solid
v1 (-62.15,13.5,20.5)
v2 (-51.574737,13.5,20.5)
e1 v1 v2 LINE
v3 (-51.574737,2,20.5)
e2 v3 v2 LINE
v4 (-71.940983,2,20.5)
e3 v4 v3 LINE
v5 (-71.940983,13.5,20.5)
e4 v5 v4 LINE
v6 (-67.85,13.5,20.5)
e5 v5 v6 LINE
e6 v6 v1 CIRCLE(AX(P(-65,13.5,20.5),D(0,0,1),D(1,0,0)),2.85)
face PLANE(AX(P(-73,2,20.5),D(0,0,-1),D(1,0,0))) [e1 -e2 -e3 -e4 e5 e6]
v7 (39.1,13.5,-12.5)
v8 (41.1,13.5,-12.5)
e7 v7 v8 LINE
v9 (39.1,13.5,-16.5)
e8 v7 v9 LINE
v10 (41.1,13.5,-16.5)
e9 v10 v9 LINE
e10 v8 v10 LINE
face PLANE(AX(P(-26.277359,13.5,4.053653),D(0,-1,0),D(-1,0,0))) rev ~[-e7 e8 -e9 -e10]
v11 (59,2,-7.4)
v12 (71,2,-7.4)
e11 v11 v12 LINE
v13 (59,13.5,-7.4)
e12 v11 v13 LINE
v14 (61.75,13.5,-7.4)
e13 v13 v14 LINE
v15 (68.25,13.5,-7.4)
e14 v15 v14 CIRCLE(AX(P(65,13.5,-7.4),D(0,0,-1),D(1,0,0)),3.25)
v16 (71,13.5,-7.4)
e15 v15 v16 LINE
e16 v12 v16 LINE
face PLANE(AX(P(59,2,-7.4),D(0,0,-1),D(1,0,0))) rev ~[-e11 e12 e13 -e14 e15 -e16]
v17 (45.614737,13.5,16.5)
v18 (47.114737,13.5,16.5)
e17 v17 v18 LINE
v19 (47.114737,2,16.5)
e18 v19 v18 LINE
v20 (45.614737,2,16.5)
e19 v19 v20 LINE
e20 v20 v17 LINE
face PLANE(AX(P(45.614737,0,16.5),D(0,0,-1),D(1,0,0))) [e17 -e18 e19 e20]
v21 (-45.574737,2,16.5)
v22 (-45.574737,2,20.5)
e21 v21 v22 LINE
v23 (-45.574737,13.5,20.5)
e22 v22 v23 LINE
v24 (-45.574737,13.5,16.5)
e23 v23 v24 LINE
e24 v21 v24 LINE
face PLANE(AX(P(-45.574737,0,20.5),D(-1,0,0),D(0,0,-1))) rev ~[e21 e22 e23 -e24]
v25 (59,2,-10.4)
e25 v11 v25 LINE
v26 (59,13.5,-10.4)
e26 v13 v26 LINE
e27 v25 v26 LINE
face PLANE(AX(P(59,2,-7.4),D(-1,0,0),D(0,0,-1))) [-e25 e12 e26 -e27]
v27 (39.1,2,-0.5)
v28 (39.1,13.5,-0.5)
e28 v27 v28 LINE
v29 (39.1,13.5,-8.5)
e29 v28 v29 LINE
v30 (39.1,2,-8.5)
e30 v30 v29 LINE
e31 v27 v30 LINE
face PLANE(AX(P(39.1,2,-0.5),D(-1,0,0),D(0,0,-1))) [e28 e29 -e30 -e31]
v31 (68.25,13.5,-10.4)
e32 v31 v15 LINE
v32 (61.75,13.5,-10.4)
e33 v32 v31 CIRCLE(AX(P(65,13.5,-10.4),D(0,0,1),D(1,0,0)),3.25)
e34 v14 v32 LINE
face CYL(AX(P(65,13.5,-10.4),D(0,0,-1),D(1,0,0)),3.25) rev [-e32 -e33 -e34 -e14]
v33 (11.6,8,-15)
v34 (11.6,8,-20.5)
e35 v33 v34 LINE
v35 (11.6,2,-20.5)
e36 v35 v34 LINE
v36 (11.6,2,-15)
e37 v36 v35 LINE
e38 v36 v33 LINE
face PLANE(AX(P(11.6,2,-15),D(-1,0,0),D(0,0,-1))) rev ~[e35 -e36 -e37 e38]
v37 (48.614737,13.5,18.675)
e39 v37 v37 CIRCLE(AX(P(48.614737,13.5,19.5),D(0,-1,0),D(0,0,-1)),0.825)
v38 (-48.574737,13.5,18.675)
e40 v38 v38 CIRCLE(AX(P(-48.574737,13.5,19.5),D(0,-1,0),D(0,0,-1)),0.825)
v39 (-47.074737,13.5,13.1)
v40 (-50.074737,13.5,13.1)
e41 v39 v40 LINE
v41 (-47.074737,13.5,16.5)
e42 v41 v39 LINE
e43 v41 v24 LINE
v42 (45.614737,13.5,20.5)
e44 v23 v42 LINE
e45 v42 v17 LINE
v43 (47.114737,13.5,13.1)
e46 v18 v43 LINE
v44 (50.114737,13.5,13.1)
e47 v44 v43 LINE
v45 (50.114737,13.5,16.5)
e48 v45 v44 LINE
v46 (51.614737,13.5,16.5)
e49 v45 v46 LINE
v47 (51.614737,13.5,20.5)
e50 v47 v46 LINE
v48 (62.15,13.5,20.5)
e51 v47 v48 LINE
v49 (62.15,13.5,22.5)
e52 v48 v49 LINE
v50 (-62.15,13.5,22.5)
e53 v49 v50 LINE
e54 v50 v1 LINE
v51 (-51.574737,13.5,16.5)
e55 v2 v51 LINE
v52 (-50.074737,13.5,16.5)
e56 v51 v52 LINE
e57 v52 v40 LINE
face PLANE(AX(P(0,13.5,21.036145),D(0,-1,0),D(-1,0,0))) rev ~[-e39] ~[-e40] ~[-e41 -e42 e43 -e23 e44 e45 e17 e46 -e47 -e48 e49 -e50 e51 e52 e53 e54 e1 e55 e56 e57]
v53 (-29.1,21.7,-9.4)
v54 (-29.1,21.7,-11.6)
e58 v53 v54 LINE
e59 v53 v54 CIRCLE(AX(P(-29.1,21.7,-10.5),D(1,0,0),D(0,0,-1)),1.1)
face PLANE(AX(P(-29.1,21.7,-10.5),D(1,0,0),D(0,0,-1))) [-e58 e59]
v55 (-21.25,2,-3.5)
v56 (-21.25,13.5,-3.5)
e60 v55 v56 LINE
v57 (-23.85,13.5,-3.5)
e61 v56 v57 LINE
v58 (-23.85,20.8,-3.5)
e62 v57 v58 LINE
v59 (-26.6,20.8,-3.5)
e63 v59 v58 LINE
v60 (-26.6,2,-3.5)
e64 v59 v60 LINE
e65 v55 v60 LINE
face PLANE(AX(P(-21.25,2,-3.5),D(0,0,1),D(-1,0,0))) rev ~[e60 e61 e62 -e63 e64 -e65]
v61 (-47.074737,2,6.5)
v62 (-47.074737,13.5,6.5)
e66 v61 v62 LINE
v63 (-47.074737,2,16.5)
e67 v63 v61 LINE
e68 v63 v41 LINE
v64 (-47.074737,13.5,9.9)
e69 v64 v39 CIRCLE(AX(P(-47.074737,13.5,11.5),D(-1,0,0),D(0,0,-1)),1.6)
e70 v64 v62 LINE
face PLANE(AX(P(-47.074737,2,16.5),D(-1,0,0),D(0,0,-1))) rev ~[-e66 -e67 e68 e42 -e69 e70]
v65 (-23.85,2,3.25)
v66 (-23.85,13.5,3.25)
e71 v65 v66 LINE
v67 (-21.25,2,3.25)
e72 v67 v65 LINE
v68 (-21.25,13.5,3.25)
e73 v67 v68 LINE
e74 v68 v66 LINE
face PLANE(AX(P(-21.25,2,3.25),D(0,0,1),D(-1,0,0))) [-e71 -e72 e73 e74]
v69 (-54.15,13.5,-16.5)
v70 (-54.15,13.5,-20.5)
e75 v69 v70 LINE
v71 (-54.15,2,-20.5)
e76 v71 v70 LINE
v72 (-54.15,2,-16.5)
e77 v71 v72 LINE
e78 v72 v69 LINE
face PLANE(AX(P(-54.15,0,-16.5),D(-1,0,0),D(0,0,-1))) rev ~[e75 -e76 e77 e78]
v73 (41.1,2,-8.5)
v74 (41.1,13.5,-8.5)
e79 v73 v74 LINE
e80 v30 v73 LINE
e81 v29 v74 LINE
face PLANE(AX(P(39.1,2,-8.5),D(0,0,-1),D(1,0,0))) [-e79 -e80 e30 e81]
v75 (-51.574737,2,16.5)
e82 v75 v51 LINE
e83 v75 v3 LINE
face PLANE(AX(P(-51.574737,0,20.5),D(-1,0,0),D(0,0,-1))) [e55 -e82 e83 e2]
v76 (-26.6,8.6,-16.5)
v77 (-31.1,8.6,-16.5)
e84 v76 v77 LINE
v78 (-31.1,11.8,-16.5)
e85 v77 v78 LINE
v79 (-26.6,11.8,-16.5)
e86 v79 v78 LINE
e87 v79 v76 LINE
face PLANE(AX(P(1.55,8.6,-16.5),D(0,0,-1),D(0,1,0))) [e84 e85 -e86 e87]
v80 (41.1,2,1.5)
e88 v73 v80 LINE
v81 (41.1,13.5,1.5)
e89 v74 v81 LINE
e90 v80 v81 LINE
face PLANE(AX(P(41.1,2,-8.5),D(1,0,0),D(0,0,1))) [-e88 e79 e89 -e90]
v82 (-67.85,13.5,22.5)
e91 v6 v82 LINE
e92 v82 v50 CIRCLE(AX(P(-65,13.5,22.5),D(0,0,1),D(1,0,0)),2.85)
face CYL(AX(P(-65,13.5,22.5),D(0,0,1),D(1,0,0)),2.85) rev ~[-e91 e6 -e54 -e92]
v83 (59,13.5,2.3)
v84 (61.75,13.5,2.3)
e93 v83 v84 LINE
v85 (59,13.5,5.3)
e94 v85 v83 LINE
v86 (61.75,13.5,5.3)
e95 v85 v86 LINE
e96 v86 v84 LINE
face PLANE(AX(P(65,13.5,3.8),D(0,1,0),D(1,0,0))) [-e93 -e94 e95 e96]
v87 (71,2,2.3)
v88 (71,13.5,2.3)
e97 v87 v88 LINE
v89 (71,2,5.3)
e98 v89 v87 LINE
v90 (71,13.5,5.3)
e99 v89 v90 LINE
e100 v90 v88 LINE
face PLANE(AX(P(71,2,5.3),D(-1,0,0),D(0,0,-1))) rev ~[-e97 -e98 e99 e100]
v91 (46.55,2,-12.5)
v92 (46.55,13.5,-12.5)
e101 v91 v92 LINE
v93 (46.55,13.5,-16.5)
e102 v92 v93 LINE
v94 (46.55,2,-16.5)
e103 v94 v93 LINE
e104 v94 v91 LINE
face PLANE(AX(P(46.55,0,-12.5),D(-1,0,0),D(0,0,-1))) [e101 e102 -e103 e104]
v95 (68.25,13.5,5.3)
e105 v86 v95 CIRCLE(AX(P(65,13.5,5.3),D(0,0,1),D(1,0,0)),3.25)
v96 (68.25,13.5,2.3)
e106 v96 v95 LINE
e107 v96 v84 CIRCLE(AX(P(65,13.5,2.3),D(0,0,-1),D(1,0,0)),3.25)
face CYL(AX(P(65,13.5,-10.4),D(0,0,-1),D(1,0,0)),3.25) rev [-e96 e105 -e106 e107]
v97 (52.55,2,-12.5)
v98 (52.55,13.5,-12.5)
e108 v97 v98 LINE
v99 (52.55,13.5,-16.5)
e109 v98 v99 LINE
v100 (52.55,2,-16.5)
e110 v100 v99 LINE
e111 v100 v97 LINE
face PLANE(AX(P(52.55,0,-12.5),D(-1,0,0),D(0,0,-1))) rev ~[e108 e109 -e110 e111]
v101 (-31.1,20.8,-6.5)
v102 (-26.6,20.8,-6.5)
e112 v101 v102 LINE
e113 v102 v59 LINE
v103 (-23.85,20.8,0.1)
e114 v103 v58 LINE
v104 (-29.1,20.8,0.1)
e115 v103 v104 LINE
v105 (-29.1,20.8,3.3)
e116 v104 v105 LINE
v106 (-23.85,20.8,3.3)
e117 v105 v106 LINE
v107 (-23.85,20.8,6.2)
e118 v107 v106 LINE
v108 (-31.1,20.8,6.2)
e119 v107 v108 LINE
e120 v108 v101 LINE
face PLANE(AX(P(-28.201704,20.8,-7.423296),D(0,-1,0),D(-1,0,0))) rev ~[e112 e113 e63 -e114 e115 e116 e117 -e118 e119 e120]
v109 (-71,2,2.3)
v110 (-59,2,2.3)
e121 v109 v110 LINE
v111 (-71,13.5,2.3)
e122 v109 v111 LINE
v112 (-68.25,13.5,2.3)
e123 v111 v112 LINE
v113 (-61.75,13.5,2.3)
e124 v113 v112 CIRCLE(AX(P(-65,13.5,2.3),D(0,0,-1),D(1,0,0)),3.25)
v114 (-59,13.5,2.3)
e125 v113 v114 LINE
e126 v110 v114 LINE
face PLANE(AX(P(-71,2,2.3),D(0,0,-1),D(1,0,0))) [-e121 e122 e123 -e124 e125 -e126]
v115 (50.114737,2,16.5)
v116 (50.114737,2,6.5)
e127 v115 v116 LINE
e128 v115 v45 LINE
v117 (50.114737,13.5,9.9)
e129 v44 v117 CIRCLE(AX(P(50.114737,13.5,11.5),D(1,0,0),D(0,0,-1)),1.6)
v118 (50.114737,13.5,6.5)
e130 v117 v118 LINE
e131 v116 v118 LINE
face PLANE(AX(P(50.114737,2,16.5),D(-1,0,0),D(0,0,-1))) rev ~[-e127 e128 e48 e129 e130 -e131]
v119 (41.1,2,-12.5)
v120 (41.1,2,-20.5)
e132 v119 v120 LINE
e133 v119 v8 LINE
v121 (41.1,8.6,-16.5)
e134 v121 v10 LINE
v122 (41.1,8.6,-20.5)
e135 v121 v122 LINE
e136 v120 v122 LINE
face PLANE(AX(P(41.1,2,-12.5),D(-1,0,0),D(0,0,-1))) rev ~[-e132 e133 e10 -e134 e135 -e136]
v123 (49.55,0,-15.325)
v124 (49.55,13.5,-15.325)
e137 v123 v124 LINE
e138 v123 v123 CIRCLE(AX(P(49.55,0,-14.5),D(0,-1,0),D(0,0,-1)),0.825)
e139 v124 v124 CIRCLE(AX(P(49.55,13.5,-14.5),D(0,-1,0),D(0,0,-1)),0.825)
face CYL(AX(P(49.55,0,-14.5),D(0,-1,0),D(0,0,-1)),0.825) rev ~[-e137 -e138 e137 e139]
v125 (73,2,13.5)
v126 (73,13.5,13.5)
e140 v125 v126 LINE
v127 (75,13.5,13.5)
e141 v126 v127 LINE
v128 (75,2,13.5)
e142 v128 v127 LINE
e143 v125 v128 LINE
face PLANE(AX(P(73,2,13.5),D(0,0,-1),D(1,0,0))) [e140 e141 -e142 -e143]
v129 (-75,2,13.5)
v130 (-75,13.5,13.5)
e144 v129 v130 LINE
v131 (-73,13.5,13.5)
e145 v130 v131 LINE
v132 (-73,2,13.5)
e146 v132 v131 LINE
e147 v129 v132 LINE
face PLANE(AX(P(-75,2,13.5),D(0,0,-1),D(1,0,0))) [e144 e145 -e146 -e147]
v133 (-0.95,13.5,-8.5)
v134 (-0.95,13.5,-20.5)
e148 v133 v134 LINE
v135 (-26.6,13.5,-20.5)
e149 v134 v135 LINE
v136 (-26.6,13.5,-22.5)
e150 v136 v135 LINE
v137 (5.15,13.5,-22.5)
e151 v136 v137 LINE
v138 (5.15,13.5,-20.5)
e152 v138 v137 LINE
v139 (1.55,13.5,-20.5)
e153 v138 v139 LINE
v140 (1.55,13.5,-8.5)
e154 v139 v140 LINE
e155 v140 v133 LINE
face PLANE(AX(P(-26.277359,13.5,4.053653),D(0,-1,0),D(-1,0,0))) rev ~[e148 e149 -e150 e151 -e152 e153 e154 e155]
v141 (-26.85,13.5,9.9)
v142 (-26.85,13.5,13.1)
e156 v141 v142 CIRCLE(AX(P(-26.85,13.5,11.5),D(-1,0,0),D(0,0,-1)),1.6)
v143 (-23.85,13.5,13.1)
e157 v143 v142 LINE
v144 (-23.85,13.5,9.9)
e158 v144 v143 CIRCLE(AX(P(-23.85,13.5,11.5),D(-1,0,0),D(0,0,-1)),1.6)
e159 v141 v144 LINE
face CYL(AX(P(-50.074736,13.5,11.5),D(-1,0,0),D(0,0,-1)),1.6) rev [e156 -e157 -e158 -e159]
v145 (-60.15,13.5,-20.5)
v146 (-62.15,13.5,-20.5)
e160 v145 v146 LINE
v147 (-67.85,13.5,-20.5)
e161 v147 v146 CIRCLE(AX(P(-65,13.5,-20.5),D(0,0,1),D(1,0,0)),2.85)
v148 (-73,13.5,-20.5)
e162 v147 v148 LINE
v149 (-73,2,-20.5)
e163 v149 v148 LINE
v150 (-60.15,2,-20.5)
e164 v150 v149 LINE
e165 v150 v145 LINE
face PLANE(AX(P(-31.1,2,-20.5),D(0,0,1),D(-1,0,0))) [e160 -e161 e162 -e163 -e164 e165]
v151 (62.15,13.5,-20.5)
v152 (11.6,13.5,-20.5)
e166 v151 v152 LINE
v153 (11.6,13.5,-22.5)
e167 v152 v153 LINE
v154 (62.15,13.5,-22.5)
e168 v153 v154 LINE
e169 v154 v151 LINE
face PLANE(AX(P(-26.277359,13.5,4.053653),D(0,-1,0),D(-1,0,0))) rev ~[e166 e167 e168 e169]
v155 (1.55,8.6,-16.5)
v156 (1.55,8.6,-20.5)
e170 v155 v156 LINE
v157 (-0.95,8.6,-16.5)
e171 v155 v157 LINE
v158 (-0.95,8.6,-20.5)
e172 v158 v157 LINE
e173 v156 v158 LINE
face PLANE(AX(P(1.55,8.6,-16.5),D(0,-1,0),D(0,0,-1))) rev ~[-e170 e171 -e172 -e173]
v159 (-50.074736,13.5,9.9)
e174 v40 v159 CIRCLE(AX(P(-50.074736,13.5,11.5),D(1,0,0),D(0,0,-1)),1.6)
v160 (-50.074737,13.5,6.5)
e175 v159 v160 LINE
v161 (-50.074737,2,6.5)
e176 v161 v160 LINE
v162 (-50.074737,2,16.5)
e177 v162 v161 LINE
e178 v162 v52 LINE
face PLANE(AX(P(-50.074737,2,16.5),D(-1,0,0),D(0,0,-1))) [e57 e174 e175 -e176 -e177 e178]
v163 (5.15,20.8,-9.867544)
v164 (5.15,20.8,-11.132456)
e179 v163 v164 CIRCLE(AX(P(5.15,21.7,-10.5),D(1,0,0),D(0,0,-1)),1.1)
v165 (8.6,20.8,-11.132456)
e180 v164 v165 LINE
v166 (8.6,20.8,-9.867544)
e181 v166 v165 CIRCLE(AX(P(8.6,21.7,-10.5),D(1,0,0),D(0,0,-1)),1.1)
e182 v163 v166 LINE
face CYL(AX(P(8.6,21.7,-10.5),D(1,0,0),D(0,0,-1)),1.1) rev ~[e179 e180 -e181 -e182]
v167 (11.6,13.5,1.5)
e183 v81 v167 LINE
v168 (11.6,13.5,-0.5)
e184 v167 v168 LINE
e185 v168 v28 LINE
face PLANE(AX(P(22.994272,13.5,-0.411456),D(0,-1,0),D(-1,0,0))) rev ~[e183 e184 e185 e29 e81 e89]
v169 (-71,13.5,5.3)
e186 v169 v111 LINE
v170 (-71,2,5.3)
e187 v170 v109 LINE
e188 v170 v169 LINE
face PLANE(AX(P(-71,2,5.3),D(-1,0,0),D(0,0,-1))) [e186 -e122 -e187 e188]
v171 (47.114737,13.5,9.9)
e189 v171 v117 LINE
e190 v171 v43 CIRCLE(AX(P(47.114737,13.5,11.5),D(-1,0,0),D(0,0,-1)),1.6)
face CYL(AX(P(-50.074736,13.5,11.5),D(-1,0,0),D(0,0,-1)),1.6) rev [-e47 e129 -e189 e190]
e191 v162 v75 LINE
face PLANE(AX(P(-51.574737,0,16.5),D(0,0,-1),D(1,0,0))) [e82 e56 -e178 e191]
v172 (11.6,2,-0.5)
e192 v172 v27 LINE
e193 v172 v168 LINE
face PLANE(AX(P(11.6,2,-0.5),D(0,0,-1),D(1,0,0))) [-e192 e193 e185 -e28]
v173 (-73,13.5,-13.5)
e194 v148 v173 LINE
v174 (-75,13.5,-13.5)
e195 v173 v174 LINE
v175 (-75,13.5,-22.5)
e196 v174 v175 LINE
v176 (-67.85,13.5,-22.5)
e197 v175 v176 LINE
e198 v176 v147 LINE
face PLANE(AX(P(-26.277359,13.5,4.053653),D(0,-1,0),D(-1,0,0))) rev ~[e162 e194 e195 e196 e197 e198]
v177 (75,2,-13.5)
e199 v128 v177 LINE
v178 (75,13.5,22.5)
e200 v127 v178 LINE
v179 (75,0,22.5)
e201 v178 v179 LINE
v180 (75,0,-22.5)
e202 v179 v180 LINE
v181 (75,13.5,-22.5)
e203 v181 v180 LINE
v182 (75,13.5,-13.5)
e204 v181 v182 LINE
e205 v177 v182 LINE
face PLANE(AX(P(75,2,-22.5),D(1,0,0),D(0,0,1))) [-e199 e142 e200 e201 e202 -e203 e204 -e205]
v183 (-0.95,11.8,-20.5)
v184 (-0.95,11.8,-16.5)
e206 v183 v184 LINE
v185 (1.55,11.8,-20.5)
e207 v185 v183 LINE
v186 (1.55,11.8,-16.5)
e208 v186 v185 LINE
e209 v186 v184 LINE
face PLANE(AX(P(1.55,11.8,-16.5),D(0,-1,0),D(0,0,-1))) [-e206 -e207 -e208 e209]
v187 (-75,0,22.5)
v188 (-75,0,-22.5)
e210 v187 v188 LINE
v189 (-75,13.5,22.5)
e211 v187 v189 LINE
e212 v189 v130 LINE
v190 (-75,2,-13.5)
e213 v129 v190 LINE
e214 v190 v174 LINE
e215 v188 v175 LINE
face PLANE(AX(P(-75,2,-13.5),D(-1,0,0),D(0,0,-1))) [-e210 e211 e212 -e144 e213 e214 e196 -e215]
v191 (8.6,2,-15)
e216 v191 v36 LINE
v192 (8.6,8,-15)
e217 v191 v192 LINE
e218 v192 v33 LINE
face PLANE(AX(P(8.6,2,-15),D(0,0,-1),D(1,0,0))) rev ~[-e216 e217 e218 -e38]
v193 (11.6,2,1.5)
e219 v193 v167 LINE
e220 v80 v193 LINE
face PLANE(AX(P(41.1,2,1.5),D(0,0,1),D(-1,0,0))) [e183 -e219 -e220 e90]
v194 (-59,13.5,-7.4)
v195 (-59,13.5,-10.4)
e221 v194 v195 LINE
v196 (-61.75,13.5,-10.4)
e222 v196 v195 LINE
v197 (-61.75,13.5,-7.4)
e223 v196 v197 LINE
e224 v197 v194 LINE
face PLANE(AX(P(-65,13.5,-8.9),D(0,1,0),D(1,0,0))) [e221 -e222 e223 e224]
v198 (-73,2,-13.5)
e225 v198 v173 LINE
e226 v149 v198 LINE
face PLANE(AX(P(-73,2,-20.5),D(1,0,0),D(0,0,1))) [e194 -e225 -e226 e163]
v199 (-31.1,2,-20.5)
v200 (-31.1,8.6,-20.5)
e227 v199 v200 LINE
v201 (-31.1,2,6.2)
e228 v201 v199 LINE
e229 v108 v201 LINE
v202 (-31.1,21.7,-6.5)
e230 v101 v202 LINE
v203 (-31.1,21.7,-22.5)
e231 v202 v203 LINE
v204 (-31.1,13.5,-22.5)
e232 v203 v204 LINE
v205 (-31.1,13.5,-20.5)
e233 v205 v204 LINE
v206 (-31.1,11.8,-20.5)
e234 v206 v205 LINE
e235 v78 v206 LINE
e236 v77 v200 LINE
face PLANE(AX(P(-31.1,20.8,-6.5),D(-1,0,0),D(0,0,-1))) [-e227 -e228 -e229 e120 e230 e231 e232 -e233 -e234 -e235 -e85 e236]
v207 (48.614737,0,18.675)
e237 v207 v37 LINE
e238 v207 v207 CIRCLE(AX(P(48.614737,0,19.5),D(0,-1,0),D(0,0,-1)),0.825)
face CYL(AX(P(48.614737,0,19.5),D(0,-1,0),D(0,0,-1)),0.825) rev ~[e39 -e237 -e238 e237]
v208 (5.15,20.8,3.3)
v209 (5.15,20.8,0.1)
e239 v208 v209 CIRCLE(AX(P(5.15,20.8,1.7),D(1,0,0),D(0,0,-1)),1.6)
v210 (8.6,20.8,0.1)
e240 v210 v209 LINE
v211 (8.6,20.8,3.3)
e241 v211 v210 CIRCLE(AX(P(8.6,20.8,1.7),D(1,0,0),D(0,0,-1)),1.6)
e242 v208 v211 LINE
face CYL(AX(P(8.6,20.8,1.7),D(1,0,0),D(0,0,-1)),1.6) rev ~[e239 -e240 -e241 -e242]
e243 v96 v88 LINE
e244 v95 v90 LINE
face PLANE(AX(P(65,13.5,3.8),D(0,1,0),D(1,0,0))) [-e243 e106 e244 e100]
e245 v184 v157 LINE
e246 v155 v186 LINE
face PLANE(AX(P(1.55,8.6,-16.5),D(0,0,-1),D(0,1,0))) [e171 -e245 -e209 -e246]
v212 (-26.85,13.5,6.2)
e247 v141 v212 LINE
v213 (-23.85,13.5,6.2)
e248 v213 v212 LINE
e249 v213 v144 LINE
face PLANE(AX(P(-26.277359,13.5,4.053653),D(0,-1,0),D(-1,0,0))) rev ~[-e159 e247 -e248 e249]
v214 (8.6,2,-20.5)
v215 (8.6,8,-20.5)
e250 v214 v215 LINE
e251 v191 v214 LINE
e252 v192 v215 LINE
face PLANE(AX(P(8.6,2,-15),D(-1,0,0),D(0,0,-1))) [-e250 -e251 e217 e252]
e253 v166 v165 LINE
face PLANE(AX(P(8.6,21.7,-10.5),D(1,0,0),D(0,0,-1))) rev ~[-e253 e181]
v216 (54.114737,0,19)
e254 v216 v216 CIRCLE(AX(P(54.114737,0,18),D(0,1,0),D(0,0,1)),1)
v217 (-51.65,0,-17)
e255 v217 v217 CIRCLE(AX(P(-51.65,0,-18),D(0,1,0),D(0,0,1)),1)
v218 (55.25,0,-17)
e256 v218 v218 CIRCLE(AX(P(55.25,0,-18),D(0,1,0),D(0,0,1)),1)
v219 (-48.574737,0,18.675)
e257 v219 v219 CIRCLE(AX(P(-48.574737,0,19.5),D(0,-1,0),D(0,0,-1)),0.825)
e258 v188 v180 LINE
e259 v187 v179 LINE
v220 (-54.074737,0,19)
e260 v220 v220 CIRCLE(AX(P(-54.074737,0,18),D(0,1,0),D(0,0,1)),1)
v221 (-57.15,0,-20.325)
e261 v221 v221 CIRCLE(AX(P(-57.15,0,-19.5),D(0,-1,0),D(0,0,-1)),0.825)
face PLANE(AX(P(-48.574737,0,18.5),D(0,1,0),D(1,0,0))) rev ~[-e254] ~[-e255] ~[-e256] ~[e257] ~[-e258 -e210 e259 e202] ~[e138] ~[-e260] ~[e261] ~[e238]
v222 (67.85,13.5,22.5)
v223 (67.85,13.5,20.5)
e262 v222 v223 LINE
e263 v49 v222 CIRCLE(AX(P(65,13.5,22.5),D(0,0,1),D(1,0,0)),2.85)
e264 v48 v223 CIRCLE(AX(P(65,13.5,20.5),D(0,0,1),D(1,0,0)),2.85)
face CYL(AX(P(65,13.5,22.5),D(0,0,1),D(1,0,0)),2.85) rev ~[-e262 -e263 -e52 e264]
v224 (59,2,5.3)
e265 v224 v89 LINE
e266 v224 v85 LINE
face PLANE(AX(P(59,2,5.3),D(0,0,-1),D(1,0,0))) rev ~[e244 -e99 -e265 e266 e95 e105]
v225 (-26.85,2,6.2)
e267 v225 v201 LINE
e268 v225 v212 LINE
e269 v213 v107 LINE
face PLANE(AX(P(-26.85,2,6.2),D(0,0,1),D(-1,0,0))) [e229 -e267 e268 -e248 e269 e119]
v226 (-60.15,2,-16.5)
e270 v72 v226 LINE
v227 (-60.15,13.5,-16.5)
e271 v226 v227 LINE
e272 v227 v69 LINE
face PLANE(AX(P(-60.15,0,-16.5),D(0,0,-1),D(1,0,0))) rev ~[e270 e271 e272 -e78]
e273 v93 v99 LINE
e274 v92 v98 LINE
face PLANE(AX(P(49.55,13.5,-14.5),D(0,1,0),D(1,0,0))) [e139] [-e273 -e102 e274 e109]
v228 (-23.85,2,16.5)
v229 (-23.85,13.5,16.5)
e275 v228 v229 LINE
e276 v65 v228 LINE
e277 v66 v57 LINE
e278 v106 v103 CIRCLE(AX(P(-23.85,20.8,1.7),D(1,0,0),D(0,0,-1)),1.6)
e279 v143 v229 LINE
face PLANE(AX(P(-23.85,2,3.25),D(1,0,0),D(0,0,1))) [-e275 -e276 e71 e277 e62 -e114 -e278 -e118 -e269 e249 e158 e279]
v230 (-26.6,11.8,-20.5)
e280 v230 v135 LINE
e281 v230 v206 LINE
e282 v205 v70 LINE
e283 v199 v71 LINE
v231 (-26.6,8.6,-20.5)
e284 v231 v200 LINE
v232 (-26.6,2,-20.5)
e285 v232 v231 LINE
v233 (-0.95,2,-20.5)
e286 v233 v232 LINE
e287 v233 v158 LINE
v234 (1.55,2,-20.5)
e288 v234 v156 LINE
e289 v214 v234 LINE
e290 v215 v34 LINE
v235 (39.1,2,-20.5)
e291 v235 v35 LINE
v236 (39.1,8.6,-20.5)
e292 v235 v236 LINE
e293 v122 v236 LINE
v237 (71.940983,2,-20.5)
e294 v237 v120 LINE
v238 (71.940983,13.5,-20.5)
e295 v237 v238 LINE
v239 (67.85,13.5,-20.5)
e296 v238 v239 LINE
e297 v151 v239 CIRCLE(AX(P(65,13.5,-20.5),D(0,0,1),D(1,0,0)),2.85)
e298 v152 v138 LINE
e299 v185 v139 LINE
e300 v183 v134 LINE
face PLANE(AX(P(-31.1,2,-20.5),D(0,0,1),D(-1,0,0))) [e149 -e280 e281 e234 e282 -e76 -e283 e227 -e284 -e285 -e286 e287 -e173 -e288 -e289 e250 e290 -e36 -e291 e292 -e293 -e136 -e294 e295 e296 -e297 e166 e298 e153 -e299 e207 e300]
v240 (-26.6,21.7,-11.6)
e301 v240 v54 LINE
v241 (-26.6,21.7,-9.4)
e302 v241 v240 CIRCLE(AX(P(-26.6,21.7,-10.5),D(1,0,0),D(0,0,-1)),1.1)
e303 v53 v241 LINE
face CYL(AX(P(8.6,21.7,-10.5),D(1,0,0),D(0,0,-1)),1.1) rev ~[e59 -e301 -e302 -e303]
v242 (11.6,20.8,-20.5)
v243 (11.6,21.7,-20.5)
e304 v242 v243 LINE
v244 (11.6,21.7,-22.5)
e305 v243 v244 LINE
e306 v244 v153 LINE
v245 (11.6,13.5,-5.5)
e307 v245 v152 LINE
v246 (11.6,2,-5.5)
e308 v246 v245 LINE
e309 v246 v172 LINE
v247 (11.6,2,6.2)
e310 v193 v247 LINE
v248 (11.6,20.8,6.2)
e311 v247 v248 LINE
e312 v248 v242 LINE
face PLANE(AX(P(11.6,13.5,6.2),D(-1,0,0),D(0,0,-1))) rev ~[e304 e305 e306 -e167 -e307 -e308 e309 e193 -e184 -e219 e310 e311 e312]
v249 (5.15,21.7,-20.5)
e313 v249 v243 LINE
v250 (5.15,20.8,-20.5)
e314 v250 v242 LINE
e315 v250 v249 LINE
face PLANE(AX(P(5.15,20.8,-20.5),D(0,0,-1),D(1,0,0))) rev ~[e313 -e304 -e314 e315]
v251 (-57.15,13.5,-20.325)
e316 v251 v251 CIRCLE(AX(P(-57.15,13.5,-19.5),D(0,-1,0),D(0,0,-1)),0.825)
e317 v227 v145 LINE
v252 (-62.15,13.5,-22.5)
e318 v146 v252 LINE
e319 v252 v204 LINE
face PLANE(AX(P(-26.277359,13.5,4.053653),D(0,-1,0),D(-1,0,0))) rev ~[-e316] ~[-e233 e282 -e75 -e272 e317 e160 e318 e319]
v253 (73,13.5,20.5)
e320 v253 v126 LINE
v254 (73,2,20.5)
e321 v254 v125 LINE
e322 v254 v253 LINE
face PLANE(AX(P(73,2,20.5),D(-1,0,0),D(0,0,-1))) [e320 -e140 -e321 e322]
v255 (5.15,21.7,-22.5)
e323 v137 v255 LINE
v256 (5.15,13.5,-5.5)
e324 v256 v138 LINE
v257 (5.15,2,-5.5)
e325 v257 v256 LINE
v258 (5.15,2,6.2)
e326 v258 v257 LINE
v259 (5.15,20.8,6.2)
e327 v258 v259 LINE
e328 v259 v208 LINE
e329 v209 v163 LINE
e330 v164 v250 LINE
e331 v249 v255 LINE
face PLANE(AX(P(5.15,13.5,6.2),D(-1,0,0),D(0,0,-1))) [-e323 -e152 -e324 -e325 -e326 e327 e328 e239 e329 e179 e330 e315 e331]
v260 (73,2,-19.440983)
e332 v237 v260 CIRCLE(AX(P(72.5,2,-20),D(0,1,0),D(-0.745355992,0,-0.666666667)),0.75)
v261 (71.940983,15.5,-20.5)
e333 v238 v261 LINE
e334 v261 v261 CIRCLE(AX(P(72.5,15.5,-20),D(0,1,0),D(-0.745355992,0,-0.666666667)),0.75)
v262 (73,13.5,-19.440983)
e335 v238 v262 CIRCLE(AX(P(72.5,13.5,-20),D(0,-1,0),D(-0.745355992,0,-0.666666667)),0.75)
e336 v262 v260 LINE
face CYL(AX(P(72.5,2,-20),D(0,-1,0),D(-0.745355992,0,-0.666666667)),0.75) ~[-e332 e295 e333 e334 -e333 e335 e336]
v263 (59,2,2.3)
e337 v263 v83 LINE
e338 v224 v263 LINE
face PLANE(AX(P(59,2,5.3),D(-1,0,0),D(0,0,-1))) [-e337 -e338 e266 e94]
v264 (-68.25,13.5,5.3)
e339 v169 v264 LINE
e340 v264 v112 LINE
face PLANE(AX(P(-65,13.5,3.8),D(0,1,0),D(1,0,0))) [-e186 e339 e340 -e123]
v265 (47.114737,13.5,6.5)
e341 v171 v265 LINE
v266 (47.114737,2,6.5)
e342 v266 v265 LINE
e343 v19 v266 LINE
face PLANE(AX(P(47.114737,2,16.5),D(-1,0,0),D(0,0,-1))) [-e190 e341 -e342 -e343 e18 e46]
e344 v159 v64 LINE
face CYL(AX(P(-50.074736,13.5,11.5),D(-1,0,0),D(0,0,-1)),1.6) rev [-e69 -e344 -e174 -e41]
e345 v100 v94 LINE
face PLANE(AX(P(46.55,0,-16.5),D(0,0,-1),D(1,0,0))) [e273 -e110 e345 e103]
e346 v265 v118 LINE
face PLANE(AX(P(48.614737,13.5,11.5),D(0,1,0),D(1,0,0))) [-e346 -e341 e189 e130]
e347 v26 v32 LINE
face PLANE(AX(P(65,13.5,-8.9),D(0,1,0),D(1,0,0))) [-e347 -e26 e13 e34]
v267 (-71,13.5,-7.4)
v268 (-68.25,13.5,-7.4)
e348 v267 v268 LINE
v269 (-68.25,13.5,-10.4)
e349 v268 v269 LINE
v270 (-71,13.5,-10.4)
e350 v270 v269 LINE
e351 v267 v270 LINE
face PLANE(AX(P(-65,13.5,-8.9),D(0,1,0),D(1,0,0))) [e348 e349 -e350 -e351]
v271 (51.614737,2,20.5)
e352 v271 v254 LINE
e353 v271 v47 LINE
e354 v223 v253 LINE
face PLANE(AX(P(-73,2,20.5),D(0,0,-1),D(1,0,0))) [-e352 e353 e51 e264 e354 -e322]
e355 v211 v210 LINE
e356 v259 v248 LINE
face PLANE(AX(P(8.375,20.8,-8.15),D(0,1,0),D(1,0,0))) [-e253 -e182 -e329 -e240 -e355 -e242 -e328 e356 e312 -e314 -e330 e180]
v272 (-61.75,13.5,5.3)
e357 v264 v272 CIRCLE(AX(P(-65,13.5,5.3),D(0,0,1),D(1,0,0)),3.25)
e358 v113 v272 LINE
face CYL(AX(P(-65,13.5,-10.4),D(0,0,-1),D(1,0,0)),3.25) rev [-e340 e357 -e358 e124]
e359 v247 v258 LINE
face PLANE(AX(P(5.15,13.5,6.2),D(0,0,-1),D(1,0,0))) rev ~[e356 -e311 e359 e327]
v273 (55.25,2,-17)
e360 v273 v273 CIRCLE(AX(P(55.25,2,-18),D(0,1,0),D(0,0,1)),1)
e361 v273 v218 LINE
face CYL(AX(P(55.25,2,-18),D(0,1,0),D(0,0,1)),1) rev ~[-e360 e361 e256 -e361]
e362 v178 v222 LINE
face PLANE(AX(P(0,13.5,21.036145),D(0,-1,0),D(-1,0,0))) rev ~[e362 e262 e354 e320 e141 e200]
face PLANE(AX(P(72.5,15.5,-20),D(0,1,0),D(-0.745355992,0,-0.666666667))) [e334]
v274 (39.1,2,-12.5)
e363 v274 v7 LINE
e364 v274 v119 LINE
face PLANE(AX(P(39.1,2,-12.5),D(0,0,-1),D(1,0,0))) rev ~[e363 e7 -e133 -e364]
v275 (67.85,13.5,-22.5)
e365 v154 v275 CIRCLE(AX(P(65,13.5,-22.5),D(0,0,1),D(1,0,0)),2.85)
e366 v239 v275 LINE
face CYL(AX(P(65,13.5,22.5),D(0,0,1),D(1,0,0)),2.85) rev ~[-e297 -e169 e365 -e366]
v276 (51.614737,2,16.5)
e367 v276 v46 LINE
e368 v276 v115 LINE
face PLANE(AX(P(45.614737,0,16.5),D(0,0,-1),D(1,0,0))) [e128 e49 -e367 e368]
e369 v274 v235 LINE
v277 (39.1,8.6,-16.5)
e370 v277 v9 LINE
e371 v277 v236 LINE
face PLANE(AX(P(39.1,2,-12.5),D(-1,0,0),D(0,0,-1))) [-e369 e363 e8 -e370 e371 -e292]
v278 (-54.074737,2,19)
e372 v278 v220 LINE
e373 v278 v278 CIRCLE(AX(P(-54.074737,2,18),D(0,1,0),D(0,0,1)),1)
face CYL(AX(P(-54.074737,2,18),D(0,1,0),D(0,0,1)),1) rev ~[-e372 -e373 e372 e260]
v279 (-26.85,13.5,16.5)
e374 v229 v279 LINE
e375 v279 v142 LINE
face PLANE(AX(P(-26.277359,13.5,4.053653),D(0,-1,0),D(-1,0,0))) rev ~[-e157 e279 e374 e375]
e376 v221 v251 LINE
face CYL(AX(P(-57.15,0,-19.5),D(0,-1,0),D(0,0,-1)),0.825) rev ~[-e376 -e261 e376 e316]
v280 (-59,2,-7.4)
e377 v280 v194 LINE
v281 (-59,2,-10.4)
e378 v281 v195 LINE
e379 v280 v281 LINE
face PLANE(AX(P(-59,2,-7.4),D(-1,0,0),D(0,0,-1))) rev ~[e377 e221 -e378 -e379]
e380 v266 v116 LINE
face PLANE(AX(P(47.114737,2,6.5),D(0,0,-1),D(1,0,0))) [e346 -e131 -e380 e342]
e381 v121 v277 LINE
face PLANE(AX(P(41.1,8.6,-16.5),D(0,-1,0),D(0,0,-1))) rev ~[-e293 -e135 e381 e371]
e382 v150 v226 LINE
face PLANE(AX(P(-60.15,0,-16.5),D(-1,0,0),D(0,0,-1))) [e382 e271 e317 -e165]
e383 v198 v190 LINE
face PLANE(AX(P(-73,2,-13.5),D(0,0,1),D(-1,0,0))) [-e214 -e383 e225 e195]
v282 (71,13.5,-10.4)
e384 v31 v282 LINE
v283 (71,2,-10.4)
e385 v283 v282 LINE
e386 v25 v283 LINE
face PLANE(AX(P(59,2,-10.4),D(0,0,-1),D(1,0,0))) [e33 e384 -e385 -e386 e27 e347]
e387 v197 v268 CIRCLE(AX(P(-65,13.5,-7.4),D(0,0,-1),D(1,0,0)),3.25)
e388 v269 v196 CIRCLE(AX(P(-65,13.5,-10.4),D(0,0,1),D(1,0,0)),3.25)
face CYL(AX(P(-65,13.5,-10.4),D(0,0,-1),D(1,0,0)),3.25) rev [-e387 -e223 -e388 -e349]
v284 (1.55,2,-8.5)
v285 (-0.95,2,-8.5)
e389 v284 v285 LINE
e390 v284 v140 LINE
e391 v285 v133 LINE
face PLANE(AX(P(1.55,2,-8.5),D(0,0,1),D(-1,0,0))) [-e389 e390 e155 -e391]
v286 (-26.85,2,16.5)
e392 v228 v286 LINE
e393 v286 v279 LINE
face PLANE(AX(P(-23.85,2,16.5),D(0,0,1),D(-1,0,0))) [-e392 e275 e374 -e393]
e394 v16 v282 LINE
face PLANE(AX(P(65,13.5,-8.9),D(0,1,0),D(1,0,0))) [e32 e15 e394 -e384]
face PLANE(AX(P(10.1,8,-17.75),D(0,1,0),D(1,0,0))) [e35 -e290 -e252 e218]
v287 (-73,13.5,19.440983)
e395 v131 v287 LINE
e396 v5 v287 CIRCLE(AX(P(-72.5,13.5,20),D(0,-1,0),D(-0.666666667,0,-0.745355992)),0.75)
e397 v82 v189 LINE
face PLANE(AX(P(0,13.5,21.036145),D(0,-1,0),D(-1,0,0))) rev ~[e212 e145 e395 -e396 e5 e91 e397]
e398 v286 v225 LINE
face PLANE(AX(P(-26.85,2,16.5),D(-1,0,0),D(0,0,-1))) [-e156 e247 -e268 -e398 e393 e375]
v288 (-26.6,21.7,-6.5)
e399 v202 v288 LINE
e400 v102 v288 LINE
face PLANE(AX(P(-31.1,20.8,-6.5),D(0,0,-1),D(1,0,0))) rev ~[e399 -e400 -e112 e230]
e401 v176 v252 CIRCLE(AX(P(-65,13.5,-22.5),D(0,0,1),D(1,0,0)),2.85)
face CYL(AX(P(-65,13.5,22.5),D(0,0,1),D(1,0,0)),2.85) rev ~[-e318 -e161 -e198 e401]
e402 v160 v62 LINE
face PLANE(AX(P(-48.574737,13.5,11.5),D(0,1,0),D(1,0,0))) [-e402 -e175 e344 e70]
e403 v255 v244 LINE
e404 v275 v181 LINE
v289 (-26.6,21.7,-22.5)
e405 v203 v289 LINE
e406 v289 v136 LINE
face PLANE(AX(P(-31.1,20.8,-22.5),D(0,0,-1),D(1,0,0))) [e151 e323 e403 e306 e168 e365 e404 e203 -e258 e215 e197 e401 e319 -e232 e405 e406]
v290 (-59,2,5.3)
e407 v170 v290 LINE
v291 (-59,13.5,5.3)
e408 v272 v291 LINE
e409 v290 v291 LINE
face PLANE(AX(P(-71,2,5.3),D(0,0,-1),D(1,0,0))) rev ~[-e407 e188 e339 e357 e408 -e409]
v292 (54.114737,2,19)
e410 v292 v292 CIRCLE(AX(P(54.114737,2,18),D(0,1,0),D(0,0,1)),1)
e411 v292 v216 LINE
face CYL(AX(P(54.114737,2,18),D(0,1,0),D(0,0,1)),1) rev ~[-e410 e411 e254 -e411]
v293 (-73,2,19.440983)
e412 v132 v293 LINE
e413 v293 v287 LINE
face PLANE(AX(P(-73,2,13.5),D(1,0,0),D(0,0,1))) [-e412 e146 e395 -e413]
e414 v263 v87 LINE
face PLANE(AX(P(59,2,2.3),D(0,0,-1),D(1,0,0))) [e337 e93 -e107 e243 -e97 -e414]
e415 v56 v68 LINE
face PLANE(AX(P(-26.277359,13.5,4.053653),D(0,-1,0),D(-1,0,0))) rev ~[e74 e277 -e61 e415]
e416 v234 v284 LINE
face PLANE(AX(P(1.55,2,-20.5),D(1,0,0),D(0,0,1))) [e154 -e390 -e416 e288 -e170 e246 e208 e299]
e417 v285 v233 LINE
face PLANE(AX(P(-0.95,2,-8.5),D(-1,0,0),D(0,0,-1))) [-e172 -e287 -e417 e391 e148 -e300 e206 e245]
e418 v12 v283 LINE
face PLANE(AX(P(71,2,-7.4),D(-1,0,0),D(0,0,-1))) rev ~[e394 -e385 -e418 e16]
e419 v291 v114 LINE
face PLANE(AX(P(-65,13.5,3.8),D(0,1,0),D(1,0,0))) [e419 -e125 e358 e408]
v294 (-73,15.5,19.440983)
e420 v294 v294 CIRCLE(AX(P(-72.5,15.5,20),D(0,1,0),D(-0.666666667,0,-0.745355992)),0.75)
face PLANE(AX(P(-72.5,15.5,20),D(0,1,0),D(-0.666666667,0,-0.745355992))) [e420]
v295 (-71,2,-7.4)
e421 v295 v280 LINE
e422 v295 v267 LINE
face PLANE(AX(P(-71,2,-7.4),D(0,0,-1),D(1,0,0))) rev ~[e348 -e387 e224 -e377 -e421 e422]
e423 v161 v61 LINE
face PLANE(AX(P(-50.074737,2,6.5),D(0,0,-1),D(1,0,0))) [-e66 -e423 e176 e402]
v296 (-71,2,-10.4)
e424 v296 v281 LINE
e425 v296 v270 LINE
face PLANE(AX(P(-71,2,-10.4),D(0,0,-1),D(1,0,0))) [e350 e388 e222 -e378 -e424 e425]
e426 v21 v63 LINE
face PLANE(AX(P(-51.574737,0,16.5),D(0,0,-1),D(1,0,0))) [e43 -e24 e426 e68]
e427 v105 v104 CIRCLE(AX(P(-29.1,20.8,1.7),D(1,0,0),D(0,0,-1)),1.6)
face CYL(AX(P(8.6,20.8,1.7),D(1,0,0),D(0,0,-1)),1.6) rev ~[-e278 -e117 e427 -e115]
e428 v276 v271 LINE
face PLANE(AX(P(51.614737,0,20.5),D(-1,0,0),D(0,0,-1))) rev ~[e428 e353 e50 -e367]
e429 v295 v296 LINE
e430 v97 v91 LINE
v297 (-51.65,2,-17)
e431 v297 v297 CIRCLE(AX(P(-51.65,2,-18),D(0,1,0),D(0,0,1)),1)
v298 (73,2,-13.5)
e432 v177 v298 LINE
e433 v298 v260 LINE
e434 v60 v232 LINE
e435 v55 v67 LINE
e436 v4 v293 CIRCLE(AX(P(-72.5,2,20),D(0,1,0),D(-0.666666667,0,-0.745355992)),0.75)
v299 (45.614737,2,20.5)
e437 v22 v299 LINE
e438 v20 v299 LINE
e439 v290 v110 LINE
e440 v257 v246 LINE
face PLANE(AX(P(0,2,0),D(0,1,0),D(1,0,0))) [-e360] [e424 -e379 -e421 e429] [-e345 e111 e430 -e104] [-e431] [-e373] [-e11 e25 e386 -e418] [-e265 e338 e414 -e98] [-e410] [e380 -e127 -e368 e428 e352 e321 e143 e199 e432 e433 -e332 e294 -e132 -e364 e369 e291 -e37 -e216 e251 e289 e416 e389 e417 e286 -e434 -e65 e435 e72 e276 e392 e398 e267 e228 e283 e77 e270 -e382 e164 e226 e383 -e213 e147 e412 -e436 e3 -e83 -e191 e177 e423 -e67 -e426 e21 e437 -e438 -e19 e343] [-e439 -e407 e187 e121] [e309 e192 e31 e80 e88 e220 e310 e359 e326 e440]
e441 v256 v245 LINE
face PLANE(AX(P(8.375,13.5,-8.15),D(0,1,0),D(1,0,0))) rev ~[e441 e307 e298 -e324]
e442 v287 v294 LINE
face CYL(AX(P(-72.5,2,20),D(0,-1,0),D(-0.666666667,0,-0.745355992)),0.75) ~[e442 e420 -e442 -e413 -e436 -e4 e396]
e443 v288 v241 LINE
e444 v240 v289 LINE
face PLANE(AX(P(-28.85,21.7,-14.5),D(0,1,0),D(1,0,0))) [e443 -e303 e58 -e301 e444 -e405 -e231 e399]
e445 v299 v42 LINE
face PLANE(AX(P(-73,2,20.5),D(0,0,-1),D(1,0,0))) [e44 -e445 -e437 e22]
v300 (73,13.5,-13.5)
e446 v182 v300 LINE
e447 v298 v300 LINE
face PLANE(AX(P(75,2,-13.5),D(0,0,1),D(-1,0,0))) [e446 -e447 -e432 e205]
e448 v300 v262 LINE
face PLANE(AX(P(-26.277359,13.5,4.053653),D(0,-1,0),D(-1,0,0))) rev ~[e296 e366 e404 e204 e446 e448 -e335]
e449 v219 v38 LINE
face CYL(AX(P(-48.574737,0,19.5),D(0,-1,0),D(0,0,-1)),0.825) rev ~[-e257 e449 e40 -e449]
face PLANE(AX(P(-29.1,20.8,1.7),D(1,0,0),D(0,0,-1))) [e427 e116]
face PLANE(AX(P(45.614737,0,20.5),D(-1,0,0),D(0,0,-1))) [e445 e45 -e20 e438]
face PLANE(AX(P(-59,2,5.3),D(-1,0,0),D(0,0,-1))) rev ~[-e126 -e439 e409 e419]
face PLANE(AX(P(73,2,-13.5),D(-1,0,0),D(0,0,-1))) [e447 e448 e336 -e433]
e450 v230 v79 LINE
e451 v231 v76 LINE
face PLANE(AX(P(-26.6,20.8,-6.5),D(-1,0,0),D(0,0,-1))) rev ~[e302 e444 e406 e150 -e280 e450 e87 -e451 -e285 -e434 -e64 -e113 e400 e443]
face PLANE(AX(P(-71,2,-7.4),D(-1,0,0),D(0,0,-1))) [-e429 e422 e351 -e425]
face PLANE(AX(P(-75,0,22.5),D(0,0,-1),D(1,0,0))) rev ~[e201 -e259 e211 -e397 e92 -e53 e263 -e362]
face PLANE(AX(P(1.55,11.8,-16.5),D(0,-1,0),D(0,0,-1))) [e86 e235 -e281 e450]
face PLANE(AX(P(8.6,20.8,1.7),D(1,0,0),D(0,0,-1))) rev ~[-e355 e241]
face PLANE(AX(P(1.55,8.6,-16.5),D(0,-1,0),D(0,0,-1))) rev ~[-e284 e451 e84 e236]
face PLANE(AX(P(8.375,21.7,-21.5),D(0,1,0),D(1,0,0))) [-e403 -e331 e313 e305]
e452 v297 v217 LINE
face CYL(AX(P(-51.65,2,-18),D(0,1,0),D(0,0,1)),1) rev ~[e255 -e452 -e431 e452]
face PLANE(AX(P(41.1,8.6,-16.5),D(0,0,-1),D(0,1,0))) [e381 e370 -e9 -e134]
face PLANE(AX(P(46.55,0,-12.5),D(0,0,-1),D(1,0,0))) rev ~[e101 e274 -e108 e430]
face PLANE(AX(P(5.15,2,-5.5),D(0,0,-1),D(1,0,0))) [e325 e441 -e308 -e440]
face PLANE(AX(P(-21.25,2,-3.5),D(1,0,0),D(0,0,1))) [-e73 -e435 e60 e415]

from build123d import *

# Parameters (mm, degrees)
SKETCH_1_W          = 150
SKETCH_1_H          = 45
EXTRUDE_1_DEPTH     = 2
SKETCH_2_W          = 12
SKETCH_2_H          = 3
EXTRUDE_2_DEPTH     = 11.5
SKETCH_4_W          = 3
SKETCH_4_H          = 10
SKETCH_4_W_2        = 2
SKETCH_4_H_2        = 8
EXTRUDE_3_DEPTH     = 11.5
CUT_EXTRUDE_1_REACH = 90.5
SKETCH_5_R          = 2.85
CUT_EXTRUDE_START   = -100.189473
SKETCH_6_R          = 1.6
CUT_EXTRUDE_2_DEPTH = 100.189473
SKETCH_7_W          = 6.45
SKETCH_7_H          = 28.7
EXTRUDE_6_DEPTH     = 7.3
SKETCH_8_W          = 4.5
SKETCH_8_H          = 16
SKETCH_8_W_2        = 6.45
SKETCH_8_H_2        = 2
EXTRUDE_7_DEPTH     = 0.9
CUT_EXTRUDE_START_2 = -3
SKETCH_9_R          = 1.1
SKETCH_9_R_2        = 1.6
CUT_EXTRUDE_3_DEPTH = 37.7
CUT_EXTRUDE_4_REACH = 84.686
SKETCH_10_W         = 4
SKETCH_10_H         = 3.2
CUT_EXTRUDE_8_REACH = 122.235
SKETCH_20_W         = 4
SKETCH_20_H         = 4.9
EXTRUDE_START       = -27
SKETCH_11_W         = 6
SKETCH_11_H         = 4
EXTRUDE_10_DEPTH    = 13.5
CUT_EXTRUDE_5_REACH = 83.254
SKETCH_13_R         = 0.825
CUT_EXTRUDE_START_3 = -32.9
SKETCH_14_R         = 3.25
CUT_EXTRUDE_6_DEPTH = 15.7
EXTRUDE_START_2     = -11.5
SKETCH_17_R         = 0.75
EXTRUDE_12_DEPTH    = 13.5
SKETCH_18_W         = 3
SKETCH_18_H         = 5.5
EXTRUDE_15_DEPTH    = 6
CUT_EXTRUDE_7_REACH = 82.742
SKETCH_19_R         = 1


with BuildPart() as part:
    # 草图1 → 凸台-拉伸1 (new body)
    with BuildSketch(Plane(origin=(0, 0, 0), x_dir=(1, 0, 0), z_dir=(0, 1, 0))):
        Rectangle(SKETCH_1_W, SKETCH_1_H)
    extrude(amount=EXTRUDE_1_DEPTH)

    # 草图2 → 凸台-拉伸2 (add)
    with BuildSketch(Plane(origin=(0, 2, 0), x_dir=(1, 0, 0), z_dir=(0, 1, 0))):
        Polygon((-75, 22.5), (75, 22.5), (75, 13.5), (73, 13.5), (73, 20.5), (1.55, 20.5), (1.55, 8.5), (-0.95, 8.5), (-0.95, 20.5), (-26.6, 20.5), (-26.6, 6.5), (-31.1, 6.5), (-31.1, 20.5), (-73, 20.5), (-73, 13.5), (-75, 13.5), align=None)
        Polygon((75, -22.5), (-75, -22.5), (-75, -13.5), (-73, -13.5), (-73, -20.5), (73, -20.5), (73, -13.5), (75, -13.5), align=None)
        with Locations((-65, -3.8)):
            Rectangle(SKETCH_2_W, SKETCH_2_H)
        with Locations((65, -3.8)):
            Rectangle(SKETCH_2_W, SKETCH_2_H)
        with Locations((-65, 8.9)):
            Rectangle(SKETCH_2_W, SKETCH_2_H)
        with Locations((65, 8.9)):
            Rectangle(SKETCH_2_W, SKETCH_2_H)
    extrude(amount=EXTRUDE_2_DEPTH)

    # 草图4 → 凸台-拉伸3 (add)
    with BuildSketch(Plane(origin=(0, 2, 0), x_dir=(1, 0, 0), z_dir=(0, 1, 0))):
        with Locations((-48.574736579, -11.5)):
            Rectangle(SKETCH_4_W, SKETCH_4_H)
        Polygon((-31.1, 6.5), (-26.6, 6.5), (-26.6, 3.5), (-23.85, 3.5), (-21.25, 3.5), (-21.25, -3.25), (-23.85, -3.25), (-23.85, -16.5), (-26.85, -16.5), (-26.85, -6.2), (-31.1, -6.2), align=None)
        with Locations((48.614736579, -11.5)):
            Rectangle(SKETCH_4_W, SKETCH_4_H)
        Polygon((5.15, 5.5), (11.6, 5.5), (11.6, 0.5), (39.1, 0.5), (39.1, 8.5), (41.1, 8.5), (41.1, -1.5), (11.6, -1.5), (11.6, -6.2), (5.15, -6.2), align=None)
        with Locations((40.1, 16.5)):
            Rectangle(SKETCH_4_W_2, SKETCH_4_H_2)
    extrude(amount=EXTRUDE_3_DEPTH)

    # 切除-拉伸1: up to this face of the body (flat: up to its plane)
    cut_extrude_1_end = Plane(part.part.faces().sort_by_distance((0, 6.75, -22.5))[0])
    # 草图5 → 切除-拉伸1 (cut, up to the picked face)
    with BuildSketch(Plane.XY.offset(22.5), mode=Mode.PRIVATE) as cut_extrude_1_sk1:
        with Locations((-65, 13.5)):
            Circle(SKETCH_5_R)
    cut_extrude_1_tool1 = split(extrude(cut_extrude_1_sk1.sketch, amount=-CUT_EXTRUDE_1_REACH, mode=Mode.PRIVATE), bisect_by=cut_extrude_1_end, keep=Keep.BOTH, mode=Mode.PRIVATE)
    # 草图5 → 切除-拉伸1 (cut, up to the picked face)
    with BuildSketch(Plane.XY.offset(22.5), mode=Mode.PRIVATE) as cut_extrude_1_sk2:
        with Locations((65, 13.5)):
            Circle(SKETCH_5_R)
    cut_extrude_1_tool2 = split(extrude(cut_extrude_1_sk2.sketch, amount=-CUT_EXTRUDE_1_REACH, mode=Mode.PRIVATE), bisect_by=cut_extrude_1_end, keep=Keep.BOTH, mode=Mode.PRIVATE)
    add(cut_extrude_1_tool1.solids().sort_by(Axis((-65, 13.5, 22.5), (0, 0, -1)))[0], mode=Mode.SUBTRACT)
    add(cut_extrude_1_tool2.solids().sort_by(Axis((65, 13.5, 22.5), (0, 0, -1)))[0], mode=Mode.SUBTRACT)

    # 草图6 → 切除-拉伸2 (cut)
    with BuildSketch(Plane(origin=(50.114736579, 0, 0), x_dir=(0, 0, -1), z_dir=(1, 0, 0)).offset(CUT_EXTRUDE_START)):
        with Locations((-11.5, 13.5)):
            Circle(SKETCH_6_R)
    extrude(amount=CUT_EXTRUDE_2_DEPTH, mode=Mode.SUBTRACT)

    # 草图7 → 凸台-拉伸6 (add)
    with BuildSketch(Plane(origin=(0, 13.5, 0), x_dir=(1, 0, 0), z_dir=(0, 1, 0))):
        with Locations((8.375, 8.15)):
            Rectangle(SKETCH_7_W, SKETCH_7_H)
        Polygon((-26.6, 22.5), (-26.6, 3.5), (-23.85, 3.5), (-23.85, -3.25), (-23.85, -6.2), (-31.1, -6.2), (-31.1, 22.5), align=None)
    extrude(amount=EXTRUDE_6_DEPTH)

    # 草图8 → 凸台-拉伸7 (add)
    with BuildSketch(Plane(origin=(0, 20.8, 0), x_dir=(1, 0, 0), z_dir=(0, 1, 0))):
        with Locations((-28.85, 14.5)):
            Rectangle(SKETCH_8_W, SKETCH_8_H)
        with Locations((8.375, 21.5)):
            Rectangle(SKETCH_8_W_2, SKETCH_8_H_2)
    extrude(amount=EXTRUDE_7_DEPTH)

    # 草图9 → 切除-拉伸3 (cut)
    with BuildSketch(Plane(origin=(11.6, 0, 0), x_dir=(0, 0, -1), z_dir=(1, 0, 0)).offset(CUT_EXTRUDE_START_2)):
        with Locations((10.5, 21.7)):
            Circle(SKETCH_9_R)
        with Locations((-1.7, 20.8)):
            Circle(SKETCH_9_R_2)
    extrude(amount=-CUT_EXTRUDE_3_DEPTH, mode=Mode.SUBTRACT)

    # 滑动杆切除-拉伸4: up to this face of the body (flat: up to its plane)
    cut_extrude_4_end = Plane(part.part.faces().sort_by_distance((-31.1, 11.825248606, -7.743924213))[0])
    # 草图10 → 滑动杆切除-拉伸4 (cut, up to the picked face)
    with BuildSketch(Plane(origin=(1.55, 0, 0), x_dir=(0, 0, -1), z_dir=(1, 0, 0)), mode=Mode.PRIVATE) as cut_extrude_4_sk1:
        with Locations((18.5, 10.2)):
            Rectangle(SKETCH_10_W, SKETCH_10_H)
    cut_extrude_4_tool1 = split(extrude(cut_extrude_4_sk1.sketch, amount=-CUT_EXTRUDE_4_REACH, mode=Mode.PRIVATE), bisect_by=cut_extrude_4_end, keep=Keep.BOTH, mode=Mode.PRIVATE)
    add(cut_extrude_4_tool1.solids().sort_by(Axis((1.55, 10.2, -18.5), (-1, 0, 0)))[0], mode=Mode.SUBTRACT)

    # 草图20 → 滑动杆安装切除-拉伸8 (cut, up to next)
    with BuildSketch(Plane(origin=(41.1, 0, 0), x_dir=(0, 0, -1), z_dir=(1, 0, 0)), mode=Mode.PRIVATE) as cut_extrude_8_sk1:
        with Locations((18.5, 11.05)):
            Rectangle(SKETCH_20_W, SKETCH_20_H)
    cut_extrude_8_tool1 = extrude(cut_extrude_8_sk1.sketch, amount=-CUT_EXTRUDE_8_REACH, mode=Mode.PRIVATE) & part.part
    add(cut_extrude_8_tool1.solids().sort_by_distance((41.1, 11.05, -18.5))[0], mode=Mode.SUBTRACT)

    # 草图11 → 螺丝孔凸台-拉伸10 (add)
    with BuildSketch(Plane(origin=(0, 27, 0), x_dir=(1, 0, 0), z_dir=(0, 1, 0)).offset(EXTRUDE_START)):
        with Locations((-48.574736579, -18.5)):
            Rectangle(SKETCH_11_W, SKETCH_11_H)
        with Locations((48.614736579, -18.5)):
            Rectangle(SKETCH_11_W, SKETCH_11_H)
        with Locations((49.55, 14.5)):
            Rectangle(SKETCH_11_W, SKETCH_11_H)
        with Locations((-57.15, 18.5)):
            Rectangle(SKETCH_11_W, SKETCH_11_H)
    extrude(amount=EXTRUDE_10_DEPTH)

    # 草图13 → 螺丝孔切除-拉伸5 (cut, up to next)
    with BuildSketch(Plane.XZ, mode=Mode.PRIVATE) as cut_extrude_5_sk1:
        with Locations(Location((-48.574736579, 19.5, 0), (0, 0, 270))):
            Circle(SKETCH_13_R)
    cut_extrude_5_tool1 = extrude(cut_extrude_5_sk1.sketch, amount=-CUT_EXTRUDE_5_REACH, mode=Mode.PRIVATE) & part.part
    # 草图13 → 螺丝孔切除-拉伸5 (cut, up to next)
    with BuildSketch(Plane.XZ, mode=Mode.PRIVATE) as cut_extrude_5_sk2:
        with Locations(Location((-57.15, -19.5, 0), (0, 0, 270))):
            Circle(SKETCH_13_R)
    cut_extrude_5_tool2 = extrude(cut_extrude_5_sk2.sketch, amount=-CUT_EXTRUDE_5_REACH, mode=Mode.PRIVATE) & part.part
    # 草图13 → 螺丝孔切除-拉伸5 (cut, up to next)
    with BuildSketch(Plane.XZ, mode=Mode.PRIVATE) as cut_extrude_5_sk3:
        with Locations(Location((48.614736579, 19.5, 0), (0, 0, 270))):
            Circle(SKETCH_13_R)
    cut_extrude_5_tool3 = extrude(cut_extrude_5_sk3.sketch, amount=-CUT_EXTRUDE_5_REACH, mode=Mode.PRIVATE) & part.part
    # 草图13 → 螺丝孔切除-拉伸5 (cut, up to next)
    with BuildSketch(Plane.XZ, mode=Mode.PRIVATE) as cut_extrude_5_sk4:
        with Locations(Location((49.55, -14.5, 0), (0, 0, 270))):
            Circle(SKETCH_13_R)
    cut_extrude_5_tool4 = extrude(cut_extrude_5_sk4.sketch, amount=-CUT_EXTRUDE_5_REACH, mode=Mode.PRIVATE) & part.part
    add(cut_extrude_5_tool1.solids().sort_by_distance((-48.574737, 0, 19.5))[0], mode=Mode.SUBTRACT)
    add(cut_extrude_5_tool2.solids().sort_by_distance((-57.15, 0, -19.5))[0], mode=Mode.SUBTRACT)
    add(cut_extrude_5_tool3.solids().sort_by_distance((48.614737, 0, 19.5))[0], mode=Mode.SUBTRACT)
    add(cut_extrude_5_tool4.solids().sort_by_distance((49.55, 0, -14.5))[0], mode=Mode.SUBTRACT)

    # 草图14 → 切除-拉伸6 (cut)
    with BuildSketch(Plane.XY.offset(22.5).offset(CUT_EXTRUDE_START_3)):
        with Locations((-65, 13.5)):
            Circle(SKETCH_14_R)
        with Locations((65, 13.5)):
            Circle(SKETCH_14_R)
    extrude(amount=CUT_EXTRUDE_6_DEPTH, mode=Mode.SUBTRACT)

    # 草图17 → 凸台-拉伸12 (add)
    with BuildSketch(Plane(origin=(0, 13.5, 0), x_dir=(1, 0, 0), z_dir=(0, 1, 0)).offset(EXTRUDE_START_2)):
        with Locations(Location((72.5, 20, 0), (0, 0, 138.189685104))):
            Circle(SKETCH_17_R)
        with Locations(Location((-72.5, -20, 0), (0, 0, 131.810314896))):
            Circle(SKETCH_17_R)
    extrude(amount=EXTRUDE_12_DEPTH)

    # 草图18 → 凸台-拉伸15 (add)
    with BuildSketch(Plane(origin=(0, 2, 0), x_dir=(1, 0, 0), z_dir=(0, 1, 0))):
        with Locations((10.1, 17.75)):
            Rectangle(SKETCH_18_W, SKETCH_18_H)
    extrude(amount=EXTRUDE_15_DEPTH)

    # 草图19 → 切除-拉伸7 (cut, up to next)
    with BuildSketch(Plane(origin=(0, 2, 0), x_dir=(1, 0, 0), z_dir=(0, 1, 0)), mode=Mode.PRIVATE) as cut_extrude_7_sk1:
        with Locations(Location((54.114736579, -18, 0), (0, 0, 270))):
            Circle(SKETCH_19_R)
    cut_extrude_7_tool1 = extrude(cut_extrude_7_sk1.sketch, amount=-CUT_EXTRUDE_7_REACH, mode=Mode.PRIVATE) & part.part
    # 草图19 → 切除-拉伸7 (cut, up to next)
    with BuildSketch(Plane(origin=(0, 2, 0), x_dir=(1, 0, 0), z_dir=(0, 1, 0)), mode=Mode.PRIVATE) as cut_extrude_7_sk2:
        with Locations(Location((-54.074736579, -18, 0), (0, 0, 270))):
            Circle(SKETCH_19_R)
    cut_extrude_7_tool2 = extrude(cut_extrude_7_sk2.sketch, amount=-CUT_EXTRUDE_7_REACH, mode=Mode.PRIVATE) & part.part
    # 草图19 → 切除-拉伸7 (cut, up to next)
    with BuildSketch(Plane(origin=(0, 2, 0), x_dir=(1, 0, 0), z_dir=(0, 1, 0)), mode=Mode.PRIVATE) as cut_extrude_7_sk3:
        with Locations(Location((-51.65, 18, 0), (0, 0, 270))):
            Circle(SKETCH_19_R)
    cut_extrude_7_tool3 = extrude(cut_extrude_7_sk3.sketch, amount=-CUT_EXTRUDE_7_REACH, mode=Mode.PRIVATE) & part.part
    # 草图19 → 切除-拉伸7 (cut, up to next)
    with BuildSketch(Plane(origin=(0, 2, 0), x_dir=(1, 0, 0), z_dir=(0, 1, 0)), mode=Mode.PRIVATE) as cut_extrude_7_sk4:
        with Locations(Location((55.25, 18, 0), (0, 0, 270))):
            Circle(SKETCH_19_R)
    cut_extrude_7_tool4 = extrude(cut_extrude_7_sk4.sketch, amount=-CUT_EXTRUDE_7_REACH, mode=Mode.PRIVATE) & part.part
    add(cut_extrude_7_tool1.solids().sort_by_distance((54.114737, 2, 18))[0], mode=Mode.SUBTRACT)
    add(cut_extrude_7_tool2.solids().sort_by_distance((-54.074737, 2, 18))[0], mode=Mode.SUBTRACT)
    add(cut_extrude_7_tool3.solids().sort_by_distance((-51.65, 2, -18))[0], mode=Mode.SUBTRACT)
    add(cut_extrude_7_tool4.solids().sort_by_distance((55.25, 2, -18))[0], mode=Mode.SUBTRACT)


solid = part.part
